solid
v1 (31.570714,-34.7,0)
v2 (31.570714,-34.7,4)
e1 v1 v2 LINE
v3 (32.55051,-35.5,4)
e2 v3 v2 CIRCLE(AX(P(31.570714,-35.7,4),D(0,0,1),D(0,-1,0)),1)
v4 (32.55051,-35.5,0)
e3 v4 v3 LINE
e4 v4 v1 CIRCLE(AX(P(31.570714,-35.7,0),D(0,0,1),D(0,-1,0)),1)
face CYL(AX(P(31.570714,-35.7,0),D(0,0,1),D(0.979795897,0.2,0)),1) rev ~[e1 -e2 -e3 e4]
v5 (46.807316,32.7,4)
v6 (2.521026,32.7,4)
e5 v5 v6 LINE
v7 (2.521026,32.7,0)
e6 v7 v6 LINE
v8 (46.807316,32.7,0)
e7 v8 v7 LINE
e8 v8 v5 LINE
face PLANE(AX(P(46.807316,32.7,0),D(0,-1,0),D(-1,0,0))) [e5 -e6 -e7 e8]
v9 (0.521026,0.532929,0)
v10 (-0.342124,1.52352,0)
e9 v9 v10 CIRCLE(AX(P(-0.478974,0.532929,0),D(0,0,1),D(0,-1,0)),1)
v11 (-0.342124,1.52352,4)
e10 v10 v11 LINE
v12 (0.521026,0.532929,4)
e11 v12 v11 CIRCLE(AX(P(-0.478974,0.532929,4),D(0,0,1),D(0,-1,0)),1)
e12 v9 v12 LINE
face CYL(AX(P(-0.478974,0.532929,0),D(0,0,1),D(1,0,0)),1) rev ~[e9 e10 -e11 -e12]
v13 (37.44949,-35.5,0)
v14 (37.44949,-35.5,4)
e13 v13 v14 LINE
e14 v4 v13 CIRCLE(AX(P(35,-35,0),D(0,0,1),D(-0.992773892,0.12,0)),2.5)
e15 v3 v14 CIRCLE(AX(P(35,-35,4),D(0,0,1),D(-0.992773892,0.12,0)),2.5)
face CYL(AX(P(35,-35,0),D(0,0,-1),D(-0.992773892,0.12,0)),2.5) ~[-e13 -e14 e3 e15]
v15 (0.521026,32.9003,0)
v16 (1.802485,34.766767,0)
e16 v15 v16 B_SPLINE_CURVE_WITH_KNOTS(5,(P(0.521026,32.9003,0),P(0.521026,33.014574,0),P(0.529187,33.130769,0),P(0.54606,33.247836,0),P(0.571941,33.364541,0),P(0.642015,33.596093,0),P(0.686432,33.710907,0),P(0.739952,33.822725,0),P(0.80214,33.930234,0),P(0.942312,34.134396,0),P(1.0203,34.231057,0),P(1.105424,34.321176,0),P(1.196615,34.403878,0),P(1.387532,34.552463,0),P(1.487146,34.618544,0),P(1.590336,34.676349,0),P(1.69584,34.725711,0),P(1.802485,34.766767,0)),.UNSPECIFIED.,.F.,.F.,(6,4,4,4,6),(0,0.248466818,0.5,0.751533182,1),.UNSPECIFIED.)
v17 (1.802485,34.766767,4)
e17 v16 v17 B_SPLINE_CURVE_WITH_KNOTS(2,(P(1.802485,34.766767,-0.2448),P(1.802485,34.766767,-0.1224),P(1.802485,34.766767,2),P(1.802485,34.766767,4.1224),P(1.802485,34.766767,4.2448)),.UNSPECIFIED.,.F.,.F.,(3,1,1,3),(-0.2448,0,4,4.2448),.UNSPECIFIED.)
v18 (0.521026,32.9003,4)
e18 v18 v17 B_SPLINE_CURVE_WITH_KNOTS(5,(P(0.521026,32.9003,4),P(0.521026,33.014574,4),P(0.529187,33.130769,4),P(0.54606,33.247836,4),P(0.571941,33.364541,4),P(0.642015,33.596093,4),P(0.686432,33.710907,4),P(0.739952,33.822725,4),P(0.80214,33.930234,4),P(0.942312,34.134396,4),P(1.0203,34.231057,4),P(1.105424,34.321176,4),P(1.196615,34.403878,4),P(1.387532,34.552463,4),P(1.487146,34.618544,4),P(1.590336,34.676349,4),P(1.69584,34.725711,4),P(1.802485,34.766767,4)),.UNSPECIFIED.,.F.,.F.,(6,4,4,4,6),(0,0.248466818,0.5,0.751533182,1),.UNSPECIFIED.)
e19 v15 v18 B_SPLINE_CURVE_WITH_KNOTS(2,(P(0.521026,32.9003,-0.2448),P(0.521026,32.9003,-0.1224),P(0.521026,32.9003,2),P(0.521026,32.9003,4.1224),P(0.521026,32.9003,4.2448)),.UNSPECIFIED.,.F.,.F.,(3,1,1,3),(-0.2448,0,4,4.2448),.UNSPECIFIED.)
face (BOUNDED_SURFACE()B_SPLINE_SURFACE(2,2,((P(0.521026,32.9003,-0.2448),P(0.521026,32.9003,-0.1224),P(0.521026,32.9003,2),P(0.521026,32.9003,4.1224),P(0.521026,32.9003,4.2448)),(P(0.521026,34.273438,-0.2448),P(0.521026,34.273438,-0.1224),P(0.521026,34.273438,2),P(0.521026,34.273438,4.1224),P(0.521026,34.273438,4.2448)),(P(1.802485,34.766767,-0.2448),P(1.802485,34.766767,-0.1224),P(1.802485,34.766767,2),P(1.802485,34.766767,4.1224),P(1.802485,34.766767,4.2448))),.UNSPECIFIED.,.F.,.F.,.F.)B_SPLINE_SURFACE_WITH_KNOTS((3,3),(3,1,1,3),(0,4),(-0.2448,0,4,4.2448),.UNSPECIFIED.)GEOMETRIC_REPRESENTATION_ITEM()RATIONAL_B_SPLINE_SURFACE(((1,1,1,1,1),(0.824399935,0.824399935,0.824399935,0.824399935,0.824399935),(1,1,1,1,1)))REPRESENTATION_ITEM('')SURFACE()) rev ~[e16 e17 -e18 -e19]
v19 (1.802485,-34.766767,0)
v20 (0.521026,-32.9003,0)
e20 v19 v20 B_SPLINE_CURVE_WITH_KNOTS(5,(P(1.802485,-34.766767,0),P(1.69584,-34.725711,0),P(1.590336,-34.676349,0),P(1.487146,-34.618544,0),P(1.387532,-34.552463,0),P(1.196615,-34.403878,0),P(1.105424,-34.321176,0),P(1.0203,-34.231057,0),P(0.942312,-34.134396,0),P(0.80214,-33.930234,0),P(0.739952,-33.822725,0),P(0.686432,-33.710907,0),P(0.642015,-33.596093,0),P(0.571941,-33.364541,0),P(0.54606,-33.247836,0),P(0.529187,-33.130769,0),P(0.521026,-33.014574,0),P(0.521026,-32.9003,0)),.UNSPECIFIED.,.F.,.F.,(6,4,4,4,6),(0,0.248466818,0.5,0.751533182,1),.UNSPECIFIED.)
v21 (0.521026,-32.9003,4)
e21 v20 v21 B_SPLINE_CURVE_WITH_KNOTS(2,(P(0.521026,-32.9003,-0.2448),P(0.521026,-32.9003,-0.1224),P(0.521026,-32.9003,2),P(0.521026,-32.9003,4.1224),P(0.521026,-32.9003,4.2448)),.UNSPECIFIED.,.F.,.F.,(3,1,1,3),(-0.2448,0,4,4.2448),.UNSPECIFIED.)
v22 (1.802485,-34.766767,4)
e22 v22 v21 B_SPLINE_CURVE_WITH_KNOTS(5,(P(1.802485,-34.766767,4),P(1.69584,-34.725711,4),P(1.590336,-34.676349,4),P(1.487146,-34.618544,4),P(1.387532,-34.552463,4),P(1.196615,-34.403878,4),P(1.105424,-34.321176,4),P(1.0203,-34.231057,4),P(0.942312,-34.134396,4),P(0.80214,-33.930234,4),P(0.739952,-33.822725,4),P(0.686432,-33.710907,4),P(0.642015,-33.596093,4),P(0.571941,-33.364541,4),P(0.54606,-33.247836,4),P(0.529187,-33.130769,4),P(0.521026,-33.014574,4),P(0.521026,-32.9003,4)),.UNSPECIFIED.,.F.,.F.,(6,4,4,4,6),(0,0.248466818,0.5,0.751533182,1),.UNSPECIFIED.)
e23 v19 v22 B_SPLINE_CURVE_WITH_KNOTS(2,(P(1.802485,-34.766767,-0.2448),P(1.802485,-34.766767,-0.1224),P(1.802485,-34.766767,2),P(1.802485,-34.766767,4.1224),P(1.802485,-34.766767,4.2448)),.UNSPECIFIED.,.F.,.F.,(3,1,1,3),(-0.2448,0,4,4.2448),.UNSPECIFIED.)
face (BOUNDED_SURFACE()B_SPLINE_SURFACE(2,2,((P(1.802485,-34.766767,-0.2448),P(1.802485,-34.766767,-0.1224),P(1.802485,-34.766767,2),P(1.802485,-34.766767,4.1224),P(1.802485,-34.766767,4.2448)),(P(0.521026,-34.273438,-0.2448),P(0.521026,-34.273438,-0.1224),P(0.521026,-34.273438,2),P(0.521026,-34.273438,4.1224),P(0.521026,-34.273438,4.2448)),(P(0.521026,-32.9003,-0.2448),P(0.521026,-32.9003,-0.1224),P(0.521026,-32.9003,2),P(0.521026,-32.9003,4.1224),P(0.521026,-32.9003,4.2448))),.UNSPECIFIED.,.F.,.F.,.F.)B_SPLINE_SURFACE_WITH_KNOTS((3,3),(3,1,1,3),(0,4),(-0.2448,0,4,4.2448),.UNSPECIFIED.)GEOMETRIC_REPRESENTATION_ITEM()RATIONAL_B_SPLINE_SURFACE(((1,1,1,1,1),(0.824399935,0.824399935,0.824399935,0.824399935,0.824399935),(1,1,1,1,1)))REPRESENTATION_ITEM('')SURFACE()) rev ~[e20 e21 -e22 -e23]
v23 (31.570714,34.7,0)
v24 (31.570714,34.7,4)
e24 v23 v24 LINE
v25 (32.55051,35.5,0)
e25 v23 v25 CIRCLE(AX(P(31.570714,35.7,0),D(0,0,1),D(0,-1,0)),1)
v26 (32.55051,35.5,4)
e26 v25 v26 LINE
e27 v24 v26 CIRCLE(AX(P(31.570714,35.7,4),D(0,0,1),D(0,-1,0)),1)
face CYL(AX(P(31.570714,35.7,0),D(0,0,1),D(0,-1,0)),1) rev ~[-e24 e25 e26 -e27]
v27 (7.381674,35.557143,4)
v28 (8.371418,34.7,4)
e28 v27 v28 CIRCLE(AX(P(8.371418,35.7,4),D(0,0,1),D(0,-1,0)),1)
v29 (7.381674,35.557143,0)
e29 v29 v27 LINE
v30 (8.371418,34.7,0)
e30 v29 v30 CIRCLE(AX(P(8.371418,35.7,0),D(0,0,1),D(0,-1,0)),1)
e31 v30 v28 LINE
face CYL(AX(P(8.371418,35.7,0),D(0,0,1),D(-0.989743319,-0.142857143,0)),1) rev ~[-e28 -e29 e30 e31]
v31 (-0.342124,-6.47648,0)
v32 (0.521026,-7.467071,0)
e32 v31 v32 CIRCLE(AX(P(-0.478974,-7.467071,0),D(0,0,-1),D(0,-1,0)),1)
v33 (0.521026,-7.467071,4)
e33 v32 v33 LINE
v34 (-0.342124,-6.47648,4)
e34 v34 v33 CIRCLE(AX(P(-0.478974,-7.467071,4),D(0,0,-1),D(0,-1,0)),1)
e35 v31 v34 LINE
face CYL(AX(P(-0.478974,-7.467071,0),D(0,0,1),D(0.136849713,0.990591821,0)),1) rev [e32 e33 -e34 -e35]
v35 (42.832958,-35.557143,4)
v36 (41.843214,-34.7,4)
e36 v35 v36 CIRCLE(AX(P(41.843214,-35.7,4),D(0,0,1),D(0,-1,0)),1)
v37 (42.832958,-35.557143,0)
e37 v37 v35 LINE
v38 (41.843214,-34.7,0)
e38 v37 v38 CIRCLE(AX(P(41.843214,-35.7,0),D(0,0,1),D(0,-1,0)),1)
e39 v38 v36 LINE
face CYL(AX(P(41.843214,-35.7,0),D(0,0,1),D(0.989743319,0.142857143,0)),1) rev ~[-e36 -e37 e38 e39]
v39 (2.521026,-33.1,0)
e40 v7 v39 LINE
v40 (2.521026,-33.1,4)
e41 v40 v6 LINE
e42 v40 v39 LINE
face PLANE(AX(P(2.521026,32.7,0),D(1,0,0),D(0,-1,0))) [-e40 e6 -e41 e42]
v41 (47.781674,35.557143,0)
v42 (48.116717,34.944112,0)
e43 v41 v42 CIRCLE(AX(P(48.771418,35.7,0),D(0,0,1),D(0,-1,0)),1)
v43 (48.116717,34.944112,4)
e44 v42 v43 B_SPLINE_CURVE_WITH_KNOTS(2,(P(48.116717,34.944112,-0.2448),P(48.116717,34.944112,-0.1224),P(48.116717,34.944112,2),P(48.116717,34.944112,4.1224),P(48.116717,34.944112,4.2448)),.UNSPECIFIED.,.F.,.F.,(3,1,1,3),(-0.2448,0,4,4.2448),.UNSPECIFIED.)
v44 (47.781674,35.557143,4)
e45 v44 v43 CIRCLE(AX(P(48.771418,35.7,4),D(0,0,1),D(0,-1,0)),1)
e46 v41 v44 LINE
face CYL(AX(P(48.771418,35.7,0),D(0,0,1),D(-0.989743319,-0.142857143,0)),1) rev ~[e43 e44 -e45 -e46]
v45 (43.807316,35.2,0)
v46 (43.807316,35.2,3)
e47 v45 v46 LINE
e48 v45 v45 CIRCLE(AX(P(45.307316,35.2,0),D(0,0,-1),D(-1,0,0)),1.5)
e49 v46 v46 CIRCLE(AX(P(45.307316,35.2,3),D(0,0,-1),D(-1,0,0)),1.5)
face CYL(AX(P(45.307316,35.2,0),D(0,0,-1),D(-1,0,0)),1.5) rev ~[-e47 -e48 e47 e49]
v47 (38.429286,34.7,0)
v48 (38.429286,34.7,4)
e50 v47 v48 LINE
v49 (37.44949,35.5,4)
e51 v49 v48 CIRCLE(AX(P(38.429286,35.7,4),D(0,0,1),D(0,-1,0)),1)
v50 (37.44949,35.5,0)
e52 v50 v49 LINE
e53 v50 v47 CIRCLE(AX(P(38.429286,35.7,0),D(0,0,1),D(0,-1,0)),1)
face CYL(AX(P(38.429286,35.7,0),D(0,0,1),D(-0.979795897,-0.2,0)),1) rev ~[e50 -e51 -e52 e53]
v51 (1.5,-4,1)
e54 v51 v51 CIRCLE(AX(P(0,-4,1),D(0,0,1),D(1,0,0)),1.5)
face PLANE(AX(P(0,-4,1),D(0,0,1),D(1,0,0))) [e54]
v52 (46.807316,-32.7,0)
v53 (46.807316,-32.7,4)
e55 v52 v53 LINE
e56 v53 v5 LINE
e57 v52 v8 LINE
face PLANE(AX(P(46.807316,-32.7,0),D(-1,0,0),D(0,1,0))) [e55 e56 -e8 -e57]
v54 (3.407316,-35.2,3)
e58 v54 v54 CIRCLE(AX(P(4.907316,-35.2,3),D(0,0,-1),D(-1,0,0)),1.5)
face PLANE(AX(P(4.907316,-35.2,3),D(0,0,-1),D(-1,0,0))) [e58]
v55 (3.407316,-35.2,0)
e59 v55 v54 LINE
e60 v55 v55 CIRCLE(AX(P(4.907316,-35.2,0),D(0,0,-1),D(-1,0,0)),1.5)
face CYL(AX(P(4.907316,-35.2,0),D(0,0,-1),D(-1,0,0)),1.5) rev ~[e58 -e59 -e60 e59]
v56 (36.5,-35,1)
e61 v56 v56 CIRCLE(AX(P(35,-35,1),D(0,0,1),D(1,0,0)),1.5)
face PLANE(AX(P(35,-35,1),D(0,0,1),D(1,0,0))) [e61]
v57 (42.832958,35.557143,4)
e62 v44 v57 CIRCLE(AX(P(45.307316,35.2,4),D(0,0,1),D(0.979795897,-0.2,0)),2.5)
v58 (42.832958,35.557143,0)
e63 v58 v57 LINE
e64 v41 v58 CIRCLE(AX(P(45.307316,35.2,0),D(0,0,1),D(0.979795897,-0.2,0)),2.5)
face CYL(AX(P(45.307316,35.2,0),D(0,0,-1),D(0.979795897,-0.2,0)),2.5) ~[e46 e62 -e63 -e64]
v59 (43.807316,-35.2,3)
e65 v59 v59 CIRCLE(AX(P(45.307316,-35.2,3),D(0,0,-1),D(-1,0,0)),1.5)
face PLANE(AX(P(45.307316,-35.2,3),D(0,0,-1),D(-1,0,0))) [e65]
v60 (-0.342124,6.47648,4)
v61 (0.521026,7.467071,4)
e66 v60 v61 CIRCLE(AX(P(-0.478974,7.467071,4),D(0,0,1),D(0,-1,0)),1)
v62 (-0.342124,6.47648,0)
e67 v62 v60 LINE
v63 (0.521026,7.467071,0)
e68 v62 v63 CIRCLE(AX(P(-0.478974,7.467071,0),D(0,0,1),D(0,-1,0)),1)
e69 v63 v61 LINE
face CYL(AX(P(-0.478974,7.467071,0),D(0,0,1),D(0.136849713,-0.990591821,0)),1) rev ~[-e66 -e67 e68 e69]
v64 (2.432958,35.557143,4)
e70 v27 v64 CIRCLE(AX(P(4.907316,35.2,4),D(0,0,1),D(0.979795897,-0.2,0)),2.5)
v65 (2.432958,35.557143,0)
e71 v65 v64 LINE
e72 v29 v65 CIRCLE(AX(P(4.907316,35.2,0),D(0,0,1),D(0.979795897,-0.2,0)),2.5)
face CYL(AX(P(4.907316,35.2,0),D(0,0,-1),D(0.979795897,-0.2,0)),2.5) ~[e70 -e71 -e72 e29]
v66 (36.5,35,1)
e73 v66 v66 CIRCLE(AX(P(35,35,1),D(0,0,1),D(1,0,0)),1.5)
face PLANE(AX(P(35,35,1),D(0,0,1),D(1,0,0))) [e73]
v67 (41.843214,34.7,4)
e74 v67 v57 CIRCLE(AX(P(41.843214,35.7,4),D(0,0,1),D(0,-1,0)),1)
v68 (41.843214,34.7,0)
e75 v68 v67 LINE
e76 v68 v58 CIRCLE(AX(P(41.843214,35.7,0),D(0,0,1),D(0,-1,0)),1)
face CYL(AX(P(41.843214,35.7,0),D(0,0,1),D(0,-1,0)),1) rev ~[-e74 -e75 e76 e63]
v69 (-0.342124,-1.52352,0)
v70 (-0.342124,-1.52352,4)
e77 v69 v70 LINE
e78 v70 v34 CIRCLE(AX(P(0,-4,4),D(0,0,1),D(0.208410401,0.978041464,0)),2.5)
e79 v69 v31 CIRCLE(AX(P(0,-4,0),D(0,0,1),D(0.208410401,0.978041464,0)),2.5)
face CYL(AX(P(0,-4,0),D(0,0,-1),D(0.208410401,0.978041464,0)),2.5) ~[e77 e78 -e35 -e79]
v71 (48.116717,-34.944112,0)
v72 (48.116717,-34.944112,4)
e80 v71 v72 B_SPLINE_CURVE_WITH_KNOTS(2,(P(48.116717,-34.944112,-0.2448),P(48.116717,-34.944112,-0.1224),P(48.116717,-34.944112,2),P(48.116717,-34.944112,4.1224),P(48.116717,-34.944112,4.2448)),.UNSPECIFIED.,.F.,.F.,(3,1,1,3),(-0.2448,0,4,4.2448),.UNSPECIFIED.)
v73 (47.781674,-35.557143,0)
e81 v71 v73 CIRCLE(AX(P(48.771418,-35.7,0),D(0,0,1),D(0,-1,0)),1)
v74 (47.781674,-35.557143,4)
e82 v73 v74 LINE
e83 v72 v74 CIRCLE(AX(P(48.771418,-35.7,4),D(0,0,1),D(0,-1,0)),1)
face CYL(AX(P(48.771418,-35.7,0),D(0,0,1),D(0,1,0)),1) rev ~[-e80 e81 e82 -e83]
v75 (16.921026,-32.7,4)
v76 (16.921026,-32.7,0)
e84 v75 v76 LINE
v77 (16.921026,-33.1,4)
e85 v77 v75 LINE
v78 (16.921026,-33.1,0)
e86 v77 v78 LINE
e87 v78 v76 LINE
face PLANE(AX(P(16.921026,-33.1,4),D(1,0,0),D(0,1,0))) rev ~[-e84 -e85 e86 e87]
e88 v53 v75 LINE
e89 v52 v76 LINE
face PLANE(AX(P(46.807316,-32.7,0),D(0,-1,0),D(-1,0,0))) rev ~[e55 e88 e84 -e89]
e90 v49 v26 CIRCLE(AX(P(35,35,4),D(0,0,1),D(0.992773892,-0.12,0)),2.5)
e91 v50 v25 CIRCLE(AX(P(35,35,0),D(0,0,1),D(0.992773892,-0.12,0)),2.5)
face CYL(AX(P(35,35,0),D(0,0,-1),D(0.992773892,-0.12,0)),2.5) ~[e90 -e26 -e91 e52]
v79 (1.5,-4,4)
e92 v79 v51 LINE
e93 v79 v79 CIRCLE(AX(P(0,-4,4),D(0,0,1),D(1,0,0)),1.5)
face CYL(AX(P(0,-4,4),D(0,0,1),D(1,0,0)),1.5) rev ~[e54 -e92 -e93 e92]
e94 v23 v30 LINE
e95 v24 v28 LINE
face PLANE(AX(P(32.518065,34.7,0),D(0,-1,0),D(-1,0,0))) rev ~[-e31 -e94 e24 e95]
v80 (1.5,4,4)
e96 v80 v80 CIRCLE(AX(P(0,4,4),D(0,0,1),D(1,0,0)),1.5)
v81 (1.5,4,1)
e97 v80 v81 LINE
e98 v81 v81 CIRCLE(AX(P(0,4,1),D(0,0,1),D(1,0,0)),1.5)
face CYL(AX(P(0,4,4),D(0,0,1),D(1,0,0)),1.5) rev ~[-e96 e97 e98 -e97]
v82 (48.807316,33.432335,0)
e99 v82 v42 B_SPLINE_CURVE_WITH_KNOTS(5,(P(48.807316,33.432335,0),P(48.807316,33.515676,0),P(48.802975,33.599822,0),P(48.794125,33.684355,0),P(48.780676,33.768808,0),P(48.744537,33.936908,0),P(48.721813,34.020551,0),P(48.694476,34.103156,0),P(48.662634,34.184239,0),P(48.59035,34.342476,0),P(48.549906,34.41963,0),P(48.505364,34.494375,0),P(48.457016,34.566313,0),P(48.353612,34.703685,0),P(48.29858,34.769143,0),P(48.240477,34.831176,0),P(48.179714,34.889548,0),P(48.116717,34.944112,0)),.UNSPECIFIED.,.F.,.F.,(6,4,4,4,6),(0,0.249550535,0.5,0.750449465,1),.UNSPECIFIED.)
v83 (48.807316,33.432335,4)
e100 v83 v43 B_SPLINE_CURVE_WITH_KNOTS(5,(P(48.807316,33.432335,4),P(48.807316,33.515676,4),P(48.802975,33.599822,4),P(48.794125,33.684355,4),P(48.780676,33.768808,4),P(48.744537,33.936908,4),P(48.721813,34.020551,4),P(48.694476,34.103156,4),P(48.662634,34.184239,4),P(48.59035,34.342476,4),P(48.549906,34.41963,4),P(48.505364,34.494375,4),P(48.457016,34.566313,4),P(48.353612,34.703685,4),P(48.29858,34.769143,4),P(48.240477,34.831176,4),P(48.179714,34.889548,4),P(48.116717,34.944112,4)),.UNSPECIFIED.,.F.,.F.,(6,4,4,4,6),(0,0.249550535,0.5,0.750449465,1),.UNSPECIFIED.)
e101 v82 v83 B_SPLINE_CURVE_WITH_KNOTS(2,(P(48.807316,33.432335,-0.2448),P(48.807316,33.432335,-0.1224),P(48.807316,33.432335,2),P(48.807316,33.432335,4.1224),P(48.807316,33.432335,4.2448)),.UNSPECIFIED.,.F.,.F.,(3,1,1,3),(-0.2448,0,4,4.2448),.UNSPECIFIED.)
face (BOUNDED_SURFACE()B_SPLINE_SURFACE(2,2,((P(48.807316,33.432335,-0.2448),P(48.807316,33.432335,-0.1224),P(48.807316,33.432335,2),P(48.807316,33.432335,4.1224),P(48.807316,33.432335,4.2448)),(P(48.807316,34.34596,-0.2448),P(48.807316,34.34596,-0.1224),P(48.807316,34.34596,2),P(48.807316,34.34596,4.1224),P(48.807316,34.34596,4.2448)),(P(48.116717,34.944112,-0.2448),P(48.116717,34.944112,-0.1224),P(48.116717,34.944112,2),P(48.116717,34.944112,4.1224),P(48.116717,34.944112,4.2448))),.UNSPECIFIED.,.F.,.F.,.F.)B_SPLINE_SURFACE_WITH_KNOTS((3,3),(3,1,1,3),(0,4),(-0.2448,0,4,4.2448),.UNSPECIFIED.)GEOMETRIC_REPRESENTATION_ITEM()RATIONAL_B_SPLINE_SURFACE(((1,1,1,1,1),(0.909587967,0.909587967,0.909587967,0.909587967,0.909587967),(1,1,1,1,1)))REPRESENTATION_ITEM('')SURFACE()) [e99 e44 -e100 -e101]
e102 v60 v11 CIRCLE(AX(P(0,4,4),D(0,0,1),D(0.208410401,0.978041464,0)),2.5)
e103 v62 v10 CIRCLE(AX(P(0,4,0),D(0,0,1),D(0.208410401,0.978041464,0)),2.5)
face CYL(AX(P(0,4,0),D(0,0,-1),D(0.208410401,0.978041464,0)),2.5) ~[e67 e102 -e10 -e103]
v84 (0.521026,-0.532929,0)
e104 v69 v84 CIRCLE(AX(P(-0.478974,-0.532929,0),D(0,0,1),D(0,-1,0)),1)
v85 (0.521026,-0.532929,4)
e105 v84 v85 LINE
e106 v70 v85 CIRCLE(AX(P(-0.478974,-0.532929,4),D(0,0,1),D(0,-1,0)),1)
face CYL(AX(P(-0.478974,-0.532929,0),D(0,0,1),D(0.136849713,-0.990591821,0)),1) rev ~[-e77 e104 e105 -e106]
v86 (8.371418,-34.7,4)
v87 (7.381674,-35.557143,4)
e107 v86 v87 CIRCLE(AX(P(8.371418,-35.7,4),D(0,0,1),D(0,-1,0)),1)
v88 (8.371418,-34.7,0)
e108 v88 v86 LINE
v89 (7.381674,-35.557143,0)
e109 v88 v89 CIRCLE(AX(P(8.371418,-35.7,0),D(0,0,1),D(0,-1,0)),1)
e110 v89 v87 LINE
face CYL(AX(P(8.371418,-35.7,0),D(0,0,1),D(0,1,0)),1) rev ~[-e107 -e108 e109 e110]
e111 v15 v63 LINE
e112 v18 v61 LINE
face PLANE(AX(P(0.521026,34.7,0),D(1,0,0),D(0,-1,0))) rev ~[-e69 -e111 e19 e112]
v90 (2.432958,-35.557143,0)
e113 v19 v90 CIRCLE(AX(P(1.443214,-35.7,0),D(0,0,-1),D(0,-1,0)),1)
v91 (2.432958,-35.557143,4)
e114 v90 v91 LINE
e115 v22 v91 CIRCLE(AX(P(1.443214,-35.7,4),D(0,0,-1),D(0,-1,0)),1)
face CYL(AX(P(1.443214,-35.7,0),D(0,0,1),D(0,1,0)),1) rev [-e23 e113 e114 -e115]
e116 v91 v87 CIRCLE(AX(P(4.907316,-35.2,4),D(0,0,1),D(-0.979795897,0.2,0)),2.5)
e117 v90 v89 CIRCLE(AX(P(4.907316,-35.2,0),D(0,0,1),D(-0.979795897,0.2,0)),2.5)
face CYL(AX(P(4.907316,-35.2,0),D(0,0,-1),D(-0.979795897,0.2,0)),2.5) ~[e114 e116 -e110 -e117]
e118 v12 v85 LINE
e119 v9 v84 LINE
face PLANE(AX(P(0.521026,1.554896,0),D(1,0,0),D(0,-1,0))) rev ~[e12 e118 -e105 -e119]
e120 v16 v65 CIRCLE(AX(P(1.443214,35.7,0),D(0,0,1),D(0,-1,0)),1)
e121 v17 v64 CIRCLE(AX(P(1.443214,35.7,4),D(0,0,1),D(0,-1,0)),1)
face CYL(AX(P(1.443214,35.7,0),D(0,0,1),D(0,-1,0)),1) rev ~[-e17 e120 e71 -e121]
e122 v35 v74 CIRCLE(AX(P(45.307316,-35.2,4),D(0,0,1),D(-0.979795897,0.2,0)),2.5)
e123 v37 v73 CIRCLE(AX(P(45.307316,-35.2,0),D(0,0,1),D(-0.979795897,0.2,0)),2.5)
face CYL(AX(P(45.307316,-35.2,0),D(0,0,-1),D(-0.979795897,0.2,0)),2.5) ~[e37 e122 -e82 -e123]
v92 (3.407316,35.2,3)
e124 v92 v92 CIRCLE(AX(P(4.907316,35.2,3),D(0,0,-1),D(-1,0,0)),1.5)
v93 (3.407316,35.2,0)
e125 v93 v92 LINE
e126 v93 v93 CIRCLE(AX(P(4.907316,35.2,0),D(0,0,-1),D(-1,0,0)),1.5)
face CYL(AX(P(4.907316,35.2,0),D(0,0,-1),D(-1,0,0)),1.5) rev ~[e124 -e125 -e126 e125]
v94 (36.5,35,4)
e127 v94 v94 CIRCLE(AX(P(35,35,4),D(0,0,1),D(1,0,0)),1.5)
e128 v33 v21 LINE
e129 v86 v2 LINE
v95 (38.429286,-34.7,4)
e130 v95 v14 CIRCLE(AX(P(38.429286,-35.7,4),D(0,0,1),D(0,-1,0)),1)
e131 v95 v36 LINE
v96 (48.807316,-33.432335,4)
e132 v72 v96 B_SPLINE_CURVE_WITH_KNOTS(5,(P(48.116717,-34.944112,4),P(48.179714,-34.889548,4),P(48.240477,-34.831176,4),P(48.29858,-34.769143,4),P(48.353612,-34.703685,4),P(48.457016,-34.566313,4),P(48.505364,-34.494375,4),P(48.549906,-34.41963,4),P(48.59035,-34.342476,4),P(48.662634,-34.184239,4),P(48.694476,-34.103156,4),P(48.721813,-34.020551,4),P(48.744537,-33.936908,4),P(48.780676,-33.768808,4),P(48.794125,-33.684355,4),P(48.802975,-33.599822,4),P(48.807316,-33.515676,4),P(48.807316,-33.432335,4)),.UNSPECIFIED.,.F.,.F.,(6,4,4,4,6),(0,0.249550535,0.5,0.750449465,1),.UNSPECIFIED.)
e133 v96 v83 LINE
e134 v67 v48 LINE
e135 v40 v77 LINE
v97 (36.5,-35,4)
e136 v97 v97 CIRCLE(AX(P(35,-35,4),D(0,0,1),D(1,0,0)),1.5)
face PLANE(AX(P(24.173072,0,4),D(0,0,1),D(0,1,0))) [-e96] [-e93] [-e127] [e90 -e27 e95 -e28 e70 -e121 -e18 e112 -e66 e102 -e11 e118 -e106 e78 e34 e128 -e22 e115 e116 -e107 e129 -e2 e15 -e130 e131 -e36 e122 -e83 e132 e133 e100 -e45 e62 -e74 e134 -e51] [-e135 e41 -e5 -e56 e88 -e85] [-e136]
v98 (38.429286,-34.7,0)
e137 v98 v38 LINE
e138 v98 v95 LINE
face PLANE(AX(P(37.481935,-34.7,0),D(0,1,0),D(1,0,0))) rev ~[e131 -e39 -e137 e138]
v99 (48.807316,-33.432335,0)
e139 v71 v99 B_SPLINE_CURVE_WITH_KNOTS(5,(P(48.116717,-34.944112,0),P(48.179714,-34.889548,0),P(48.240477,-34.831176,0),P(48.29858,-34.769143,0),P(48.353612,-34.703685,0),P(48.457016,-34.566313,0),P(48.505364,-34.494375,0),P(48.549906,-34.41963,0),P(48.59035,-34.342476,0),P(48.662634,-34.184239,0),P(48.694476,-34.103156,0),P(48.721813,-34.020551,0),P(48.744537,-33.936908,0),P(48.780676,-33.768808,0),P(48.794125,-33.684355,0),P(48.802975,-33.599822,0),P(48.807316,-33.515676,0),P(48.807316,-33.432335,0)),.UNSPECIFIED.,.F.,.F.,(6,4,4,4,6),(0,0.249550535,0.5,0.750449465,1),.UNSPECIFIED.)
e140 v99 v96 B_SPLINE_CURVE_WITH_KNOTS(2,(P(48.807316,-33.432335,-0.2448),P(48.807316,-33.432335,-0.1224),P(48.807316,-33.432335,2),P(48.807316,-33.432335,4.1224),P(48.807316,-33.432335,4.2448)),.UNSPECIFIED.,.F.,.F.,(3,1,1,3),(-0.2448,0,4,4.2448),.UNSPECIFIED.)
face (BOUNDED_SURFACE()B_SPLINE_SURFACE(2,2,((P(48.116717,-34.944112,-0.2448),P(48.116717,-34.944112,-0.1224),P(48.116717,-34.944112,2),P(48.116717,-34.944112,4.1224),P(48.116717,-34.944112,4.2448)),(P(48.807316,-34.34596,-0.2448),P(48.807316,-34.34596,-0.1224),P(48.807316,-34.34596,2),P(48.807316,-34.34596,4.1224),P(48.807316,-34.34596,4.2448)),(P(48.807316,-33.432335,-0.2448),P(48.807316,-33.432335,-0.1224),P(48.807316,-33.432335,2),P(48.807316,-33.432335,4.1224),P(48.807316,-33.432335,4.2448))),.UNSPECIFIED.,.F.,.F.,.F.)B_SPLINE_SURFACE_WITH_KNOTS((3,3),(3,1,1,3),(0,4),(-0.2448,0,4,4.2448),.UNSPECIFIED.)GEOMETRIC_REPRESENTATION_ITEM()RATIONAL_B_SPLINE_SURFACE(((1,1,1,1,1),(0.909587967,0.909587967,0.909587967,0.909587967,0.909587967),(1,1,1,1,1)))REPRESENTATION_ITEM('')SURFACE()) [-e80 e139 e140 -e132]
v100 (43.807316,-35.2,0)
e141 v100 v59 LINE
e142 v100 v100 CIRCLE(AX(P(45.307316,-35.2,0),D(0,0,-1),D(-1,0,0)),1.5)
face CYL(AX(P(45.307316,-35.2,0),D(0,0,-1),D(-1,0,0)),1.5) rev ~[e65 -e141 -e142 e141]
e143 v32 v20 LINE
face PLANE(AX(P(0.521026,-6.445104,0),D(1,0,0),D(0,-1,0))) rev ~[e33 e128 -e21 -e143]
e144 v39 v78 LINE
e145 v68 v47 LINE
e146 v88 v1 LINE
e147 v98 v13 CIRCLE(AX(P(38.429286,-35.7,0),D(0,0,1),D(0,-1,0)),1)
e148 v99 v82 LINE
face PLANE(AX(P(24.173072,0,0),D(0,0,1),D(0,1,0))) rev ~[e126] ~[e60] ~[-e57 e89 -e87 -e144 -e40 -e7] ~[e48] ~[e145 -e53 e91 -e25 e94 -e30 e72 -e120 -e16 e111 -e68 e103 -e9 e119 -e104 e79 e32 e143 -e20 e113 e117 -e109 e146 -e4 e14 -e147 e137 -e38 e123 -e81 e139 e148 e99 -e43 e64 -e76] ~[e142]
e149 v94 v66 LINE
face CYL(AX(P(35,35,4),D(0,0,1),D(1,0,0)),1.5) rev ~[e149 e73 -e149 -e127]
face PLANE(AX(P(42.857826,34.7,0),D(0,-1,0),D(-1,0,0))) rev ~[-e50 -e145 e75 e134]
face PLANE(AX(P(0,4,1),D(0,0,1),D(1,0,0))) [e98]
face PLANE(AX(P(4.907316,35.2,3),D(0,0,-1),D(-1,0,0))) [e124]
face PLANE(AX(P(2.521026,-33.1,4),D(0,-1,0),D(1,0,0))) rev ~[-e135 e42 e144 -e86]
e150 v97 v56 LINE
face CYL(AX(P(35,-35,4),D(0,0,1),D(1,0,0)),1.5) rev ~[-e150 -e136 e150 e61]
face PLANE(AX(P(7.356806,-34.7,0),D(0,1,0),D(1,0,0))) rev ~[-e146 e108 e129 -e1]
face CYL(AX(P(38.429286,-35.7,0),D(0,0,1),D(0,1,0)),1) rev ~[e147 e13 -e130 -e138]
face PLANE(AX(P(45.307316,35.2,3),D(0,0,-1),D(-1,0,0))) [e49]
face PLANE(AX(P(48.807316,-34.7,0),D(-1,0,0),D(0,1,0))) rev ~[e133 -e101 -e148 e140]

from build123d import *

# Parameters (mm, degrees)
BOSS_EXTRUDE1_DEPTH = 4
SKETCH4_R           = 1.5
CUT_EXTRUDE1_DEPTH  = 3
SKETCH5_R           = 1.5
CUT_EXTRUDE2_DEPTH  = 3
SKETCH6_W           = 14.4
SKETCH6_H           = 0.4
CUT_EXTRUDE3_DEPTH  = 4
FILLET1_R           = 1
FILLET2_R           = 2


with BuildPart() as part:
    # Sketch3 → Boss-Extrude1 (new body)
    with BuildSketch(Plane(origin=(0, 0, 0), x_dir=(0, 1, 0), z_dir=(0, 0, 1))):
        with BuildLine():
            Line((-34.7, -0.521026003), (-34.7, -2.457826354))
            ThreePointArc((-34.7, -2.457826354), (-37.7, -4.907316097), (-34.7, -7.35680584))
            Line((-34.7, -7.35680584), (-34.7, -9.880280288))
            Line((-34.7, -9.880280288), (-34.7, -32.518065271))
            ThreePointArc((-34.7, -32.518065271), (-37.5, -35), (-34.7, -37.481934729))
            Line((-34.7, -37.481934729), (-34.7, -42.857826354))
            ThreePointArc((-34.7, -42.857826354), (-37.7, -45.307316097), (-34.7, -47.75680584))
            Line((-34.7, -47.75680584), (-34.7, -48.807316097))
            Line((-34.7, -48.807316097), (34.7, -48.807316097))
            Line((34.7, -48.807316097), (34.7, -47.75680584))
            ThreePointArc((34.7, -47.75680584), (37.7, -45.307316097), (34.7, -42.857826354))
            Line((34.7, -42.857826354), (34.7, -37.481934729))
            ThreePointArc((34.7, -37.481934729), (37.5, -35), (34.7, -32.518065271))
            Line((34.7, -32.518065271), (34.7, -7.35680584))
            ThreePointArc((34.7, -7.35680584), (37.7, -4.907316097), (34.7, -2.457826354))
            Line((34.7, -2.457826354), (34.7, -0.521026003))
            Line((34.7, -0.521026003), (6.445103659, -0.521026003))
            ThreePointArc((6.445103659, -0.521026003), (4, 2.5), (1.554896341, -0.521026003))
            Line((1.554896341, -0.521026003), (-1.554896341, -0.521026003))
            ThreePointArc((-1.554896341, -0.521026003), (-4, 2.5), (-6.445103659, -0.521026003))
            Line((-6.445103659, -0.521026003), (-34.7, -0.521026003))
        make_face()
        Polygon((-32.7, -9.880280288), (-32.7, -46.807316097), (32.7, -46.807316097), (32.7, -2.521026003), (-32.7, -2.521026003), align=None, mode=Mode.SUBTRACT)
    extrude(amount=BOSS_EXTRUDE1_DEPTH)

    # Sketch4 → Cut-Extrude1 (cut)
    with BuildSketch(Plane.XY.offset(4)):
        with Locations((0, 4)):
            Circle(SKETCH4_R)
        with Locations((0, -4)):
            Circle(SKETCH4_R)
        with Locations((35, -35)):
            Circle(SKETCH4_R)
        with Locations((35, 35)):
            Circle(SKETCH4_R)
    extrude(amount=-CUT_EXTRUDE1_DEPTH, mode=Mode.SUBTRACT)

    # Sketch5 → Cut-Extrude2 (cut)
    with BuildSketch(Plane(origin=(0, 0, 0), x_dir=(1, 0, 0), z_dir=(0, 0, -1))):
        with Locations(Location((4.907316097, 35.2, 0), (0, 0, 180))):
            Circle(SKETCH5_R)
        with Locations(Location((45.307316097, 35.2, 0), (0, 0, 180))):
            Circle(SKETCH5_R)
        with Locations(Location((45.307316097, -35.2, 0), (0, 0, 180))):
            Circle(SKETCH5_R)
        with Locations(Location((4.907316097, -35.2, 0), (0, 0, 180))):
            Circle(SKETCH5_R)
    extrude(amount=-CUT_EXTRUDE2_DEPTH, mode=Mode.SUBTRACT)

    # Sketch6 → Cut-Extrude3 (cut)
    with BuildSketch(Plane.XY.offset(4)):
        with Locations((9.721026003, -32.9)):
            Rectangle(SKETCH6_W, SKETCH6_H)
    extrude(amount=-CUT_EXTRUDE3_DEPTH, mode=Mode.SUBTRACT)

    # Fillet1
    fillet1_edges = [part.edges().sort_by_distance(p)[0] for p in [
        (2.457826354, -34.7, 2),
        (0.521026003, -6.445103659, 2),
        (0.521026003, -1.554896341, 2),
        (0.521026003, 1.554896341, 2),
        (0.521026003, 6.445103659, 2),
        (2.457826354, 34.7, 2),
        (7.35680584, 34.7, 2),
        (32.518065271, 34.7, 2),
        (37.481934729, 34.7, 2),
        (42.857826354, 34.7, 2),
        (47.75680584, 34.7, 2),
        (47.75680584, -34.7, 2),
        (42.857826354, -34.7, 2),
        (37.481934729, -34.7, 2),
        (32.518065271, -34.7, 2),
        (7.35680584, -34.7, 2),
    ]]
    fillet(fillet1_edges, radius=FILLET1_R)

    # Fillet2
    fillet2_edges = [part.edges().sort_by_distance(p)[0] for p in [
        (0.521026003, 34.7, 2),
        (48.807316097, 34.7, 2),
        (48.807316097, -34.7, 2),
        (0.521026003, -34.7, 2),
    ]]
    fillet(fillet2_edges, radius=FILLET2_R)


solid = part.part
